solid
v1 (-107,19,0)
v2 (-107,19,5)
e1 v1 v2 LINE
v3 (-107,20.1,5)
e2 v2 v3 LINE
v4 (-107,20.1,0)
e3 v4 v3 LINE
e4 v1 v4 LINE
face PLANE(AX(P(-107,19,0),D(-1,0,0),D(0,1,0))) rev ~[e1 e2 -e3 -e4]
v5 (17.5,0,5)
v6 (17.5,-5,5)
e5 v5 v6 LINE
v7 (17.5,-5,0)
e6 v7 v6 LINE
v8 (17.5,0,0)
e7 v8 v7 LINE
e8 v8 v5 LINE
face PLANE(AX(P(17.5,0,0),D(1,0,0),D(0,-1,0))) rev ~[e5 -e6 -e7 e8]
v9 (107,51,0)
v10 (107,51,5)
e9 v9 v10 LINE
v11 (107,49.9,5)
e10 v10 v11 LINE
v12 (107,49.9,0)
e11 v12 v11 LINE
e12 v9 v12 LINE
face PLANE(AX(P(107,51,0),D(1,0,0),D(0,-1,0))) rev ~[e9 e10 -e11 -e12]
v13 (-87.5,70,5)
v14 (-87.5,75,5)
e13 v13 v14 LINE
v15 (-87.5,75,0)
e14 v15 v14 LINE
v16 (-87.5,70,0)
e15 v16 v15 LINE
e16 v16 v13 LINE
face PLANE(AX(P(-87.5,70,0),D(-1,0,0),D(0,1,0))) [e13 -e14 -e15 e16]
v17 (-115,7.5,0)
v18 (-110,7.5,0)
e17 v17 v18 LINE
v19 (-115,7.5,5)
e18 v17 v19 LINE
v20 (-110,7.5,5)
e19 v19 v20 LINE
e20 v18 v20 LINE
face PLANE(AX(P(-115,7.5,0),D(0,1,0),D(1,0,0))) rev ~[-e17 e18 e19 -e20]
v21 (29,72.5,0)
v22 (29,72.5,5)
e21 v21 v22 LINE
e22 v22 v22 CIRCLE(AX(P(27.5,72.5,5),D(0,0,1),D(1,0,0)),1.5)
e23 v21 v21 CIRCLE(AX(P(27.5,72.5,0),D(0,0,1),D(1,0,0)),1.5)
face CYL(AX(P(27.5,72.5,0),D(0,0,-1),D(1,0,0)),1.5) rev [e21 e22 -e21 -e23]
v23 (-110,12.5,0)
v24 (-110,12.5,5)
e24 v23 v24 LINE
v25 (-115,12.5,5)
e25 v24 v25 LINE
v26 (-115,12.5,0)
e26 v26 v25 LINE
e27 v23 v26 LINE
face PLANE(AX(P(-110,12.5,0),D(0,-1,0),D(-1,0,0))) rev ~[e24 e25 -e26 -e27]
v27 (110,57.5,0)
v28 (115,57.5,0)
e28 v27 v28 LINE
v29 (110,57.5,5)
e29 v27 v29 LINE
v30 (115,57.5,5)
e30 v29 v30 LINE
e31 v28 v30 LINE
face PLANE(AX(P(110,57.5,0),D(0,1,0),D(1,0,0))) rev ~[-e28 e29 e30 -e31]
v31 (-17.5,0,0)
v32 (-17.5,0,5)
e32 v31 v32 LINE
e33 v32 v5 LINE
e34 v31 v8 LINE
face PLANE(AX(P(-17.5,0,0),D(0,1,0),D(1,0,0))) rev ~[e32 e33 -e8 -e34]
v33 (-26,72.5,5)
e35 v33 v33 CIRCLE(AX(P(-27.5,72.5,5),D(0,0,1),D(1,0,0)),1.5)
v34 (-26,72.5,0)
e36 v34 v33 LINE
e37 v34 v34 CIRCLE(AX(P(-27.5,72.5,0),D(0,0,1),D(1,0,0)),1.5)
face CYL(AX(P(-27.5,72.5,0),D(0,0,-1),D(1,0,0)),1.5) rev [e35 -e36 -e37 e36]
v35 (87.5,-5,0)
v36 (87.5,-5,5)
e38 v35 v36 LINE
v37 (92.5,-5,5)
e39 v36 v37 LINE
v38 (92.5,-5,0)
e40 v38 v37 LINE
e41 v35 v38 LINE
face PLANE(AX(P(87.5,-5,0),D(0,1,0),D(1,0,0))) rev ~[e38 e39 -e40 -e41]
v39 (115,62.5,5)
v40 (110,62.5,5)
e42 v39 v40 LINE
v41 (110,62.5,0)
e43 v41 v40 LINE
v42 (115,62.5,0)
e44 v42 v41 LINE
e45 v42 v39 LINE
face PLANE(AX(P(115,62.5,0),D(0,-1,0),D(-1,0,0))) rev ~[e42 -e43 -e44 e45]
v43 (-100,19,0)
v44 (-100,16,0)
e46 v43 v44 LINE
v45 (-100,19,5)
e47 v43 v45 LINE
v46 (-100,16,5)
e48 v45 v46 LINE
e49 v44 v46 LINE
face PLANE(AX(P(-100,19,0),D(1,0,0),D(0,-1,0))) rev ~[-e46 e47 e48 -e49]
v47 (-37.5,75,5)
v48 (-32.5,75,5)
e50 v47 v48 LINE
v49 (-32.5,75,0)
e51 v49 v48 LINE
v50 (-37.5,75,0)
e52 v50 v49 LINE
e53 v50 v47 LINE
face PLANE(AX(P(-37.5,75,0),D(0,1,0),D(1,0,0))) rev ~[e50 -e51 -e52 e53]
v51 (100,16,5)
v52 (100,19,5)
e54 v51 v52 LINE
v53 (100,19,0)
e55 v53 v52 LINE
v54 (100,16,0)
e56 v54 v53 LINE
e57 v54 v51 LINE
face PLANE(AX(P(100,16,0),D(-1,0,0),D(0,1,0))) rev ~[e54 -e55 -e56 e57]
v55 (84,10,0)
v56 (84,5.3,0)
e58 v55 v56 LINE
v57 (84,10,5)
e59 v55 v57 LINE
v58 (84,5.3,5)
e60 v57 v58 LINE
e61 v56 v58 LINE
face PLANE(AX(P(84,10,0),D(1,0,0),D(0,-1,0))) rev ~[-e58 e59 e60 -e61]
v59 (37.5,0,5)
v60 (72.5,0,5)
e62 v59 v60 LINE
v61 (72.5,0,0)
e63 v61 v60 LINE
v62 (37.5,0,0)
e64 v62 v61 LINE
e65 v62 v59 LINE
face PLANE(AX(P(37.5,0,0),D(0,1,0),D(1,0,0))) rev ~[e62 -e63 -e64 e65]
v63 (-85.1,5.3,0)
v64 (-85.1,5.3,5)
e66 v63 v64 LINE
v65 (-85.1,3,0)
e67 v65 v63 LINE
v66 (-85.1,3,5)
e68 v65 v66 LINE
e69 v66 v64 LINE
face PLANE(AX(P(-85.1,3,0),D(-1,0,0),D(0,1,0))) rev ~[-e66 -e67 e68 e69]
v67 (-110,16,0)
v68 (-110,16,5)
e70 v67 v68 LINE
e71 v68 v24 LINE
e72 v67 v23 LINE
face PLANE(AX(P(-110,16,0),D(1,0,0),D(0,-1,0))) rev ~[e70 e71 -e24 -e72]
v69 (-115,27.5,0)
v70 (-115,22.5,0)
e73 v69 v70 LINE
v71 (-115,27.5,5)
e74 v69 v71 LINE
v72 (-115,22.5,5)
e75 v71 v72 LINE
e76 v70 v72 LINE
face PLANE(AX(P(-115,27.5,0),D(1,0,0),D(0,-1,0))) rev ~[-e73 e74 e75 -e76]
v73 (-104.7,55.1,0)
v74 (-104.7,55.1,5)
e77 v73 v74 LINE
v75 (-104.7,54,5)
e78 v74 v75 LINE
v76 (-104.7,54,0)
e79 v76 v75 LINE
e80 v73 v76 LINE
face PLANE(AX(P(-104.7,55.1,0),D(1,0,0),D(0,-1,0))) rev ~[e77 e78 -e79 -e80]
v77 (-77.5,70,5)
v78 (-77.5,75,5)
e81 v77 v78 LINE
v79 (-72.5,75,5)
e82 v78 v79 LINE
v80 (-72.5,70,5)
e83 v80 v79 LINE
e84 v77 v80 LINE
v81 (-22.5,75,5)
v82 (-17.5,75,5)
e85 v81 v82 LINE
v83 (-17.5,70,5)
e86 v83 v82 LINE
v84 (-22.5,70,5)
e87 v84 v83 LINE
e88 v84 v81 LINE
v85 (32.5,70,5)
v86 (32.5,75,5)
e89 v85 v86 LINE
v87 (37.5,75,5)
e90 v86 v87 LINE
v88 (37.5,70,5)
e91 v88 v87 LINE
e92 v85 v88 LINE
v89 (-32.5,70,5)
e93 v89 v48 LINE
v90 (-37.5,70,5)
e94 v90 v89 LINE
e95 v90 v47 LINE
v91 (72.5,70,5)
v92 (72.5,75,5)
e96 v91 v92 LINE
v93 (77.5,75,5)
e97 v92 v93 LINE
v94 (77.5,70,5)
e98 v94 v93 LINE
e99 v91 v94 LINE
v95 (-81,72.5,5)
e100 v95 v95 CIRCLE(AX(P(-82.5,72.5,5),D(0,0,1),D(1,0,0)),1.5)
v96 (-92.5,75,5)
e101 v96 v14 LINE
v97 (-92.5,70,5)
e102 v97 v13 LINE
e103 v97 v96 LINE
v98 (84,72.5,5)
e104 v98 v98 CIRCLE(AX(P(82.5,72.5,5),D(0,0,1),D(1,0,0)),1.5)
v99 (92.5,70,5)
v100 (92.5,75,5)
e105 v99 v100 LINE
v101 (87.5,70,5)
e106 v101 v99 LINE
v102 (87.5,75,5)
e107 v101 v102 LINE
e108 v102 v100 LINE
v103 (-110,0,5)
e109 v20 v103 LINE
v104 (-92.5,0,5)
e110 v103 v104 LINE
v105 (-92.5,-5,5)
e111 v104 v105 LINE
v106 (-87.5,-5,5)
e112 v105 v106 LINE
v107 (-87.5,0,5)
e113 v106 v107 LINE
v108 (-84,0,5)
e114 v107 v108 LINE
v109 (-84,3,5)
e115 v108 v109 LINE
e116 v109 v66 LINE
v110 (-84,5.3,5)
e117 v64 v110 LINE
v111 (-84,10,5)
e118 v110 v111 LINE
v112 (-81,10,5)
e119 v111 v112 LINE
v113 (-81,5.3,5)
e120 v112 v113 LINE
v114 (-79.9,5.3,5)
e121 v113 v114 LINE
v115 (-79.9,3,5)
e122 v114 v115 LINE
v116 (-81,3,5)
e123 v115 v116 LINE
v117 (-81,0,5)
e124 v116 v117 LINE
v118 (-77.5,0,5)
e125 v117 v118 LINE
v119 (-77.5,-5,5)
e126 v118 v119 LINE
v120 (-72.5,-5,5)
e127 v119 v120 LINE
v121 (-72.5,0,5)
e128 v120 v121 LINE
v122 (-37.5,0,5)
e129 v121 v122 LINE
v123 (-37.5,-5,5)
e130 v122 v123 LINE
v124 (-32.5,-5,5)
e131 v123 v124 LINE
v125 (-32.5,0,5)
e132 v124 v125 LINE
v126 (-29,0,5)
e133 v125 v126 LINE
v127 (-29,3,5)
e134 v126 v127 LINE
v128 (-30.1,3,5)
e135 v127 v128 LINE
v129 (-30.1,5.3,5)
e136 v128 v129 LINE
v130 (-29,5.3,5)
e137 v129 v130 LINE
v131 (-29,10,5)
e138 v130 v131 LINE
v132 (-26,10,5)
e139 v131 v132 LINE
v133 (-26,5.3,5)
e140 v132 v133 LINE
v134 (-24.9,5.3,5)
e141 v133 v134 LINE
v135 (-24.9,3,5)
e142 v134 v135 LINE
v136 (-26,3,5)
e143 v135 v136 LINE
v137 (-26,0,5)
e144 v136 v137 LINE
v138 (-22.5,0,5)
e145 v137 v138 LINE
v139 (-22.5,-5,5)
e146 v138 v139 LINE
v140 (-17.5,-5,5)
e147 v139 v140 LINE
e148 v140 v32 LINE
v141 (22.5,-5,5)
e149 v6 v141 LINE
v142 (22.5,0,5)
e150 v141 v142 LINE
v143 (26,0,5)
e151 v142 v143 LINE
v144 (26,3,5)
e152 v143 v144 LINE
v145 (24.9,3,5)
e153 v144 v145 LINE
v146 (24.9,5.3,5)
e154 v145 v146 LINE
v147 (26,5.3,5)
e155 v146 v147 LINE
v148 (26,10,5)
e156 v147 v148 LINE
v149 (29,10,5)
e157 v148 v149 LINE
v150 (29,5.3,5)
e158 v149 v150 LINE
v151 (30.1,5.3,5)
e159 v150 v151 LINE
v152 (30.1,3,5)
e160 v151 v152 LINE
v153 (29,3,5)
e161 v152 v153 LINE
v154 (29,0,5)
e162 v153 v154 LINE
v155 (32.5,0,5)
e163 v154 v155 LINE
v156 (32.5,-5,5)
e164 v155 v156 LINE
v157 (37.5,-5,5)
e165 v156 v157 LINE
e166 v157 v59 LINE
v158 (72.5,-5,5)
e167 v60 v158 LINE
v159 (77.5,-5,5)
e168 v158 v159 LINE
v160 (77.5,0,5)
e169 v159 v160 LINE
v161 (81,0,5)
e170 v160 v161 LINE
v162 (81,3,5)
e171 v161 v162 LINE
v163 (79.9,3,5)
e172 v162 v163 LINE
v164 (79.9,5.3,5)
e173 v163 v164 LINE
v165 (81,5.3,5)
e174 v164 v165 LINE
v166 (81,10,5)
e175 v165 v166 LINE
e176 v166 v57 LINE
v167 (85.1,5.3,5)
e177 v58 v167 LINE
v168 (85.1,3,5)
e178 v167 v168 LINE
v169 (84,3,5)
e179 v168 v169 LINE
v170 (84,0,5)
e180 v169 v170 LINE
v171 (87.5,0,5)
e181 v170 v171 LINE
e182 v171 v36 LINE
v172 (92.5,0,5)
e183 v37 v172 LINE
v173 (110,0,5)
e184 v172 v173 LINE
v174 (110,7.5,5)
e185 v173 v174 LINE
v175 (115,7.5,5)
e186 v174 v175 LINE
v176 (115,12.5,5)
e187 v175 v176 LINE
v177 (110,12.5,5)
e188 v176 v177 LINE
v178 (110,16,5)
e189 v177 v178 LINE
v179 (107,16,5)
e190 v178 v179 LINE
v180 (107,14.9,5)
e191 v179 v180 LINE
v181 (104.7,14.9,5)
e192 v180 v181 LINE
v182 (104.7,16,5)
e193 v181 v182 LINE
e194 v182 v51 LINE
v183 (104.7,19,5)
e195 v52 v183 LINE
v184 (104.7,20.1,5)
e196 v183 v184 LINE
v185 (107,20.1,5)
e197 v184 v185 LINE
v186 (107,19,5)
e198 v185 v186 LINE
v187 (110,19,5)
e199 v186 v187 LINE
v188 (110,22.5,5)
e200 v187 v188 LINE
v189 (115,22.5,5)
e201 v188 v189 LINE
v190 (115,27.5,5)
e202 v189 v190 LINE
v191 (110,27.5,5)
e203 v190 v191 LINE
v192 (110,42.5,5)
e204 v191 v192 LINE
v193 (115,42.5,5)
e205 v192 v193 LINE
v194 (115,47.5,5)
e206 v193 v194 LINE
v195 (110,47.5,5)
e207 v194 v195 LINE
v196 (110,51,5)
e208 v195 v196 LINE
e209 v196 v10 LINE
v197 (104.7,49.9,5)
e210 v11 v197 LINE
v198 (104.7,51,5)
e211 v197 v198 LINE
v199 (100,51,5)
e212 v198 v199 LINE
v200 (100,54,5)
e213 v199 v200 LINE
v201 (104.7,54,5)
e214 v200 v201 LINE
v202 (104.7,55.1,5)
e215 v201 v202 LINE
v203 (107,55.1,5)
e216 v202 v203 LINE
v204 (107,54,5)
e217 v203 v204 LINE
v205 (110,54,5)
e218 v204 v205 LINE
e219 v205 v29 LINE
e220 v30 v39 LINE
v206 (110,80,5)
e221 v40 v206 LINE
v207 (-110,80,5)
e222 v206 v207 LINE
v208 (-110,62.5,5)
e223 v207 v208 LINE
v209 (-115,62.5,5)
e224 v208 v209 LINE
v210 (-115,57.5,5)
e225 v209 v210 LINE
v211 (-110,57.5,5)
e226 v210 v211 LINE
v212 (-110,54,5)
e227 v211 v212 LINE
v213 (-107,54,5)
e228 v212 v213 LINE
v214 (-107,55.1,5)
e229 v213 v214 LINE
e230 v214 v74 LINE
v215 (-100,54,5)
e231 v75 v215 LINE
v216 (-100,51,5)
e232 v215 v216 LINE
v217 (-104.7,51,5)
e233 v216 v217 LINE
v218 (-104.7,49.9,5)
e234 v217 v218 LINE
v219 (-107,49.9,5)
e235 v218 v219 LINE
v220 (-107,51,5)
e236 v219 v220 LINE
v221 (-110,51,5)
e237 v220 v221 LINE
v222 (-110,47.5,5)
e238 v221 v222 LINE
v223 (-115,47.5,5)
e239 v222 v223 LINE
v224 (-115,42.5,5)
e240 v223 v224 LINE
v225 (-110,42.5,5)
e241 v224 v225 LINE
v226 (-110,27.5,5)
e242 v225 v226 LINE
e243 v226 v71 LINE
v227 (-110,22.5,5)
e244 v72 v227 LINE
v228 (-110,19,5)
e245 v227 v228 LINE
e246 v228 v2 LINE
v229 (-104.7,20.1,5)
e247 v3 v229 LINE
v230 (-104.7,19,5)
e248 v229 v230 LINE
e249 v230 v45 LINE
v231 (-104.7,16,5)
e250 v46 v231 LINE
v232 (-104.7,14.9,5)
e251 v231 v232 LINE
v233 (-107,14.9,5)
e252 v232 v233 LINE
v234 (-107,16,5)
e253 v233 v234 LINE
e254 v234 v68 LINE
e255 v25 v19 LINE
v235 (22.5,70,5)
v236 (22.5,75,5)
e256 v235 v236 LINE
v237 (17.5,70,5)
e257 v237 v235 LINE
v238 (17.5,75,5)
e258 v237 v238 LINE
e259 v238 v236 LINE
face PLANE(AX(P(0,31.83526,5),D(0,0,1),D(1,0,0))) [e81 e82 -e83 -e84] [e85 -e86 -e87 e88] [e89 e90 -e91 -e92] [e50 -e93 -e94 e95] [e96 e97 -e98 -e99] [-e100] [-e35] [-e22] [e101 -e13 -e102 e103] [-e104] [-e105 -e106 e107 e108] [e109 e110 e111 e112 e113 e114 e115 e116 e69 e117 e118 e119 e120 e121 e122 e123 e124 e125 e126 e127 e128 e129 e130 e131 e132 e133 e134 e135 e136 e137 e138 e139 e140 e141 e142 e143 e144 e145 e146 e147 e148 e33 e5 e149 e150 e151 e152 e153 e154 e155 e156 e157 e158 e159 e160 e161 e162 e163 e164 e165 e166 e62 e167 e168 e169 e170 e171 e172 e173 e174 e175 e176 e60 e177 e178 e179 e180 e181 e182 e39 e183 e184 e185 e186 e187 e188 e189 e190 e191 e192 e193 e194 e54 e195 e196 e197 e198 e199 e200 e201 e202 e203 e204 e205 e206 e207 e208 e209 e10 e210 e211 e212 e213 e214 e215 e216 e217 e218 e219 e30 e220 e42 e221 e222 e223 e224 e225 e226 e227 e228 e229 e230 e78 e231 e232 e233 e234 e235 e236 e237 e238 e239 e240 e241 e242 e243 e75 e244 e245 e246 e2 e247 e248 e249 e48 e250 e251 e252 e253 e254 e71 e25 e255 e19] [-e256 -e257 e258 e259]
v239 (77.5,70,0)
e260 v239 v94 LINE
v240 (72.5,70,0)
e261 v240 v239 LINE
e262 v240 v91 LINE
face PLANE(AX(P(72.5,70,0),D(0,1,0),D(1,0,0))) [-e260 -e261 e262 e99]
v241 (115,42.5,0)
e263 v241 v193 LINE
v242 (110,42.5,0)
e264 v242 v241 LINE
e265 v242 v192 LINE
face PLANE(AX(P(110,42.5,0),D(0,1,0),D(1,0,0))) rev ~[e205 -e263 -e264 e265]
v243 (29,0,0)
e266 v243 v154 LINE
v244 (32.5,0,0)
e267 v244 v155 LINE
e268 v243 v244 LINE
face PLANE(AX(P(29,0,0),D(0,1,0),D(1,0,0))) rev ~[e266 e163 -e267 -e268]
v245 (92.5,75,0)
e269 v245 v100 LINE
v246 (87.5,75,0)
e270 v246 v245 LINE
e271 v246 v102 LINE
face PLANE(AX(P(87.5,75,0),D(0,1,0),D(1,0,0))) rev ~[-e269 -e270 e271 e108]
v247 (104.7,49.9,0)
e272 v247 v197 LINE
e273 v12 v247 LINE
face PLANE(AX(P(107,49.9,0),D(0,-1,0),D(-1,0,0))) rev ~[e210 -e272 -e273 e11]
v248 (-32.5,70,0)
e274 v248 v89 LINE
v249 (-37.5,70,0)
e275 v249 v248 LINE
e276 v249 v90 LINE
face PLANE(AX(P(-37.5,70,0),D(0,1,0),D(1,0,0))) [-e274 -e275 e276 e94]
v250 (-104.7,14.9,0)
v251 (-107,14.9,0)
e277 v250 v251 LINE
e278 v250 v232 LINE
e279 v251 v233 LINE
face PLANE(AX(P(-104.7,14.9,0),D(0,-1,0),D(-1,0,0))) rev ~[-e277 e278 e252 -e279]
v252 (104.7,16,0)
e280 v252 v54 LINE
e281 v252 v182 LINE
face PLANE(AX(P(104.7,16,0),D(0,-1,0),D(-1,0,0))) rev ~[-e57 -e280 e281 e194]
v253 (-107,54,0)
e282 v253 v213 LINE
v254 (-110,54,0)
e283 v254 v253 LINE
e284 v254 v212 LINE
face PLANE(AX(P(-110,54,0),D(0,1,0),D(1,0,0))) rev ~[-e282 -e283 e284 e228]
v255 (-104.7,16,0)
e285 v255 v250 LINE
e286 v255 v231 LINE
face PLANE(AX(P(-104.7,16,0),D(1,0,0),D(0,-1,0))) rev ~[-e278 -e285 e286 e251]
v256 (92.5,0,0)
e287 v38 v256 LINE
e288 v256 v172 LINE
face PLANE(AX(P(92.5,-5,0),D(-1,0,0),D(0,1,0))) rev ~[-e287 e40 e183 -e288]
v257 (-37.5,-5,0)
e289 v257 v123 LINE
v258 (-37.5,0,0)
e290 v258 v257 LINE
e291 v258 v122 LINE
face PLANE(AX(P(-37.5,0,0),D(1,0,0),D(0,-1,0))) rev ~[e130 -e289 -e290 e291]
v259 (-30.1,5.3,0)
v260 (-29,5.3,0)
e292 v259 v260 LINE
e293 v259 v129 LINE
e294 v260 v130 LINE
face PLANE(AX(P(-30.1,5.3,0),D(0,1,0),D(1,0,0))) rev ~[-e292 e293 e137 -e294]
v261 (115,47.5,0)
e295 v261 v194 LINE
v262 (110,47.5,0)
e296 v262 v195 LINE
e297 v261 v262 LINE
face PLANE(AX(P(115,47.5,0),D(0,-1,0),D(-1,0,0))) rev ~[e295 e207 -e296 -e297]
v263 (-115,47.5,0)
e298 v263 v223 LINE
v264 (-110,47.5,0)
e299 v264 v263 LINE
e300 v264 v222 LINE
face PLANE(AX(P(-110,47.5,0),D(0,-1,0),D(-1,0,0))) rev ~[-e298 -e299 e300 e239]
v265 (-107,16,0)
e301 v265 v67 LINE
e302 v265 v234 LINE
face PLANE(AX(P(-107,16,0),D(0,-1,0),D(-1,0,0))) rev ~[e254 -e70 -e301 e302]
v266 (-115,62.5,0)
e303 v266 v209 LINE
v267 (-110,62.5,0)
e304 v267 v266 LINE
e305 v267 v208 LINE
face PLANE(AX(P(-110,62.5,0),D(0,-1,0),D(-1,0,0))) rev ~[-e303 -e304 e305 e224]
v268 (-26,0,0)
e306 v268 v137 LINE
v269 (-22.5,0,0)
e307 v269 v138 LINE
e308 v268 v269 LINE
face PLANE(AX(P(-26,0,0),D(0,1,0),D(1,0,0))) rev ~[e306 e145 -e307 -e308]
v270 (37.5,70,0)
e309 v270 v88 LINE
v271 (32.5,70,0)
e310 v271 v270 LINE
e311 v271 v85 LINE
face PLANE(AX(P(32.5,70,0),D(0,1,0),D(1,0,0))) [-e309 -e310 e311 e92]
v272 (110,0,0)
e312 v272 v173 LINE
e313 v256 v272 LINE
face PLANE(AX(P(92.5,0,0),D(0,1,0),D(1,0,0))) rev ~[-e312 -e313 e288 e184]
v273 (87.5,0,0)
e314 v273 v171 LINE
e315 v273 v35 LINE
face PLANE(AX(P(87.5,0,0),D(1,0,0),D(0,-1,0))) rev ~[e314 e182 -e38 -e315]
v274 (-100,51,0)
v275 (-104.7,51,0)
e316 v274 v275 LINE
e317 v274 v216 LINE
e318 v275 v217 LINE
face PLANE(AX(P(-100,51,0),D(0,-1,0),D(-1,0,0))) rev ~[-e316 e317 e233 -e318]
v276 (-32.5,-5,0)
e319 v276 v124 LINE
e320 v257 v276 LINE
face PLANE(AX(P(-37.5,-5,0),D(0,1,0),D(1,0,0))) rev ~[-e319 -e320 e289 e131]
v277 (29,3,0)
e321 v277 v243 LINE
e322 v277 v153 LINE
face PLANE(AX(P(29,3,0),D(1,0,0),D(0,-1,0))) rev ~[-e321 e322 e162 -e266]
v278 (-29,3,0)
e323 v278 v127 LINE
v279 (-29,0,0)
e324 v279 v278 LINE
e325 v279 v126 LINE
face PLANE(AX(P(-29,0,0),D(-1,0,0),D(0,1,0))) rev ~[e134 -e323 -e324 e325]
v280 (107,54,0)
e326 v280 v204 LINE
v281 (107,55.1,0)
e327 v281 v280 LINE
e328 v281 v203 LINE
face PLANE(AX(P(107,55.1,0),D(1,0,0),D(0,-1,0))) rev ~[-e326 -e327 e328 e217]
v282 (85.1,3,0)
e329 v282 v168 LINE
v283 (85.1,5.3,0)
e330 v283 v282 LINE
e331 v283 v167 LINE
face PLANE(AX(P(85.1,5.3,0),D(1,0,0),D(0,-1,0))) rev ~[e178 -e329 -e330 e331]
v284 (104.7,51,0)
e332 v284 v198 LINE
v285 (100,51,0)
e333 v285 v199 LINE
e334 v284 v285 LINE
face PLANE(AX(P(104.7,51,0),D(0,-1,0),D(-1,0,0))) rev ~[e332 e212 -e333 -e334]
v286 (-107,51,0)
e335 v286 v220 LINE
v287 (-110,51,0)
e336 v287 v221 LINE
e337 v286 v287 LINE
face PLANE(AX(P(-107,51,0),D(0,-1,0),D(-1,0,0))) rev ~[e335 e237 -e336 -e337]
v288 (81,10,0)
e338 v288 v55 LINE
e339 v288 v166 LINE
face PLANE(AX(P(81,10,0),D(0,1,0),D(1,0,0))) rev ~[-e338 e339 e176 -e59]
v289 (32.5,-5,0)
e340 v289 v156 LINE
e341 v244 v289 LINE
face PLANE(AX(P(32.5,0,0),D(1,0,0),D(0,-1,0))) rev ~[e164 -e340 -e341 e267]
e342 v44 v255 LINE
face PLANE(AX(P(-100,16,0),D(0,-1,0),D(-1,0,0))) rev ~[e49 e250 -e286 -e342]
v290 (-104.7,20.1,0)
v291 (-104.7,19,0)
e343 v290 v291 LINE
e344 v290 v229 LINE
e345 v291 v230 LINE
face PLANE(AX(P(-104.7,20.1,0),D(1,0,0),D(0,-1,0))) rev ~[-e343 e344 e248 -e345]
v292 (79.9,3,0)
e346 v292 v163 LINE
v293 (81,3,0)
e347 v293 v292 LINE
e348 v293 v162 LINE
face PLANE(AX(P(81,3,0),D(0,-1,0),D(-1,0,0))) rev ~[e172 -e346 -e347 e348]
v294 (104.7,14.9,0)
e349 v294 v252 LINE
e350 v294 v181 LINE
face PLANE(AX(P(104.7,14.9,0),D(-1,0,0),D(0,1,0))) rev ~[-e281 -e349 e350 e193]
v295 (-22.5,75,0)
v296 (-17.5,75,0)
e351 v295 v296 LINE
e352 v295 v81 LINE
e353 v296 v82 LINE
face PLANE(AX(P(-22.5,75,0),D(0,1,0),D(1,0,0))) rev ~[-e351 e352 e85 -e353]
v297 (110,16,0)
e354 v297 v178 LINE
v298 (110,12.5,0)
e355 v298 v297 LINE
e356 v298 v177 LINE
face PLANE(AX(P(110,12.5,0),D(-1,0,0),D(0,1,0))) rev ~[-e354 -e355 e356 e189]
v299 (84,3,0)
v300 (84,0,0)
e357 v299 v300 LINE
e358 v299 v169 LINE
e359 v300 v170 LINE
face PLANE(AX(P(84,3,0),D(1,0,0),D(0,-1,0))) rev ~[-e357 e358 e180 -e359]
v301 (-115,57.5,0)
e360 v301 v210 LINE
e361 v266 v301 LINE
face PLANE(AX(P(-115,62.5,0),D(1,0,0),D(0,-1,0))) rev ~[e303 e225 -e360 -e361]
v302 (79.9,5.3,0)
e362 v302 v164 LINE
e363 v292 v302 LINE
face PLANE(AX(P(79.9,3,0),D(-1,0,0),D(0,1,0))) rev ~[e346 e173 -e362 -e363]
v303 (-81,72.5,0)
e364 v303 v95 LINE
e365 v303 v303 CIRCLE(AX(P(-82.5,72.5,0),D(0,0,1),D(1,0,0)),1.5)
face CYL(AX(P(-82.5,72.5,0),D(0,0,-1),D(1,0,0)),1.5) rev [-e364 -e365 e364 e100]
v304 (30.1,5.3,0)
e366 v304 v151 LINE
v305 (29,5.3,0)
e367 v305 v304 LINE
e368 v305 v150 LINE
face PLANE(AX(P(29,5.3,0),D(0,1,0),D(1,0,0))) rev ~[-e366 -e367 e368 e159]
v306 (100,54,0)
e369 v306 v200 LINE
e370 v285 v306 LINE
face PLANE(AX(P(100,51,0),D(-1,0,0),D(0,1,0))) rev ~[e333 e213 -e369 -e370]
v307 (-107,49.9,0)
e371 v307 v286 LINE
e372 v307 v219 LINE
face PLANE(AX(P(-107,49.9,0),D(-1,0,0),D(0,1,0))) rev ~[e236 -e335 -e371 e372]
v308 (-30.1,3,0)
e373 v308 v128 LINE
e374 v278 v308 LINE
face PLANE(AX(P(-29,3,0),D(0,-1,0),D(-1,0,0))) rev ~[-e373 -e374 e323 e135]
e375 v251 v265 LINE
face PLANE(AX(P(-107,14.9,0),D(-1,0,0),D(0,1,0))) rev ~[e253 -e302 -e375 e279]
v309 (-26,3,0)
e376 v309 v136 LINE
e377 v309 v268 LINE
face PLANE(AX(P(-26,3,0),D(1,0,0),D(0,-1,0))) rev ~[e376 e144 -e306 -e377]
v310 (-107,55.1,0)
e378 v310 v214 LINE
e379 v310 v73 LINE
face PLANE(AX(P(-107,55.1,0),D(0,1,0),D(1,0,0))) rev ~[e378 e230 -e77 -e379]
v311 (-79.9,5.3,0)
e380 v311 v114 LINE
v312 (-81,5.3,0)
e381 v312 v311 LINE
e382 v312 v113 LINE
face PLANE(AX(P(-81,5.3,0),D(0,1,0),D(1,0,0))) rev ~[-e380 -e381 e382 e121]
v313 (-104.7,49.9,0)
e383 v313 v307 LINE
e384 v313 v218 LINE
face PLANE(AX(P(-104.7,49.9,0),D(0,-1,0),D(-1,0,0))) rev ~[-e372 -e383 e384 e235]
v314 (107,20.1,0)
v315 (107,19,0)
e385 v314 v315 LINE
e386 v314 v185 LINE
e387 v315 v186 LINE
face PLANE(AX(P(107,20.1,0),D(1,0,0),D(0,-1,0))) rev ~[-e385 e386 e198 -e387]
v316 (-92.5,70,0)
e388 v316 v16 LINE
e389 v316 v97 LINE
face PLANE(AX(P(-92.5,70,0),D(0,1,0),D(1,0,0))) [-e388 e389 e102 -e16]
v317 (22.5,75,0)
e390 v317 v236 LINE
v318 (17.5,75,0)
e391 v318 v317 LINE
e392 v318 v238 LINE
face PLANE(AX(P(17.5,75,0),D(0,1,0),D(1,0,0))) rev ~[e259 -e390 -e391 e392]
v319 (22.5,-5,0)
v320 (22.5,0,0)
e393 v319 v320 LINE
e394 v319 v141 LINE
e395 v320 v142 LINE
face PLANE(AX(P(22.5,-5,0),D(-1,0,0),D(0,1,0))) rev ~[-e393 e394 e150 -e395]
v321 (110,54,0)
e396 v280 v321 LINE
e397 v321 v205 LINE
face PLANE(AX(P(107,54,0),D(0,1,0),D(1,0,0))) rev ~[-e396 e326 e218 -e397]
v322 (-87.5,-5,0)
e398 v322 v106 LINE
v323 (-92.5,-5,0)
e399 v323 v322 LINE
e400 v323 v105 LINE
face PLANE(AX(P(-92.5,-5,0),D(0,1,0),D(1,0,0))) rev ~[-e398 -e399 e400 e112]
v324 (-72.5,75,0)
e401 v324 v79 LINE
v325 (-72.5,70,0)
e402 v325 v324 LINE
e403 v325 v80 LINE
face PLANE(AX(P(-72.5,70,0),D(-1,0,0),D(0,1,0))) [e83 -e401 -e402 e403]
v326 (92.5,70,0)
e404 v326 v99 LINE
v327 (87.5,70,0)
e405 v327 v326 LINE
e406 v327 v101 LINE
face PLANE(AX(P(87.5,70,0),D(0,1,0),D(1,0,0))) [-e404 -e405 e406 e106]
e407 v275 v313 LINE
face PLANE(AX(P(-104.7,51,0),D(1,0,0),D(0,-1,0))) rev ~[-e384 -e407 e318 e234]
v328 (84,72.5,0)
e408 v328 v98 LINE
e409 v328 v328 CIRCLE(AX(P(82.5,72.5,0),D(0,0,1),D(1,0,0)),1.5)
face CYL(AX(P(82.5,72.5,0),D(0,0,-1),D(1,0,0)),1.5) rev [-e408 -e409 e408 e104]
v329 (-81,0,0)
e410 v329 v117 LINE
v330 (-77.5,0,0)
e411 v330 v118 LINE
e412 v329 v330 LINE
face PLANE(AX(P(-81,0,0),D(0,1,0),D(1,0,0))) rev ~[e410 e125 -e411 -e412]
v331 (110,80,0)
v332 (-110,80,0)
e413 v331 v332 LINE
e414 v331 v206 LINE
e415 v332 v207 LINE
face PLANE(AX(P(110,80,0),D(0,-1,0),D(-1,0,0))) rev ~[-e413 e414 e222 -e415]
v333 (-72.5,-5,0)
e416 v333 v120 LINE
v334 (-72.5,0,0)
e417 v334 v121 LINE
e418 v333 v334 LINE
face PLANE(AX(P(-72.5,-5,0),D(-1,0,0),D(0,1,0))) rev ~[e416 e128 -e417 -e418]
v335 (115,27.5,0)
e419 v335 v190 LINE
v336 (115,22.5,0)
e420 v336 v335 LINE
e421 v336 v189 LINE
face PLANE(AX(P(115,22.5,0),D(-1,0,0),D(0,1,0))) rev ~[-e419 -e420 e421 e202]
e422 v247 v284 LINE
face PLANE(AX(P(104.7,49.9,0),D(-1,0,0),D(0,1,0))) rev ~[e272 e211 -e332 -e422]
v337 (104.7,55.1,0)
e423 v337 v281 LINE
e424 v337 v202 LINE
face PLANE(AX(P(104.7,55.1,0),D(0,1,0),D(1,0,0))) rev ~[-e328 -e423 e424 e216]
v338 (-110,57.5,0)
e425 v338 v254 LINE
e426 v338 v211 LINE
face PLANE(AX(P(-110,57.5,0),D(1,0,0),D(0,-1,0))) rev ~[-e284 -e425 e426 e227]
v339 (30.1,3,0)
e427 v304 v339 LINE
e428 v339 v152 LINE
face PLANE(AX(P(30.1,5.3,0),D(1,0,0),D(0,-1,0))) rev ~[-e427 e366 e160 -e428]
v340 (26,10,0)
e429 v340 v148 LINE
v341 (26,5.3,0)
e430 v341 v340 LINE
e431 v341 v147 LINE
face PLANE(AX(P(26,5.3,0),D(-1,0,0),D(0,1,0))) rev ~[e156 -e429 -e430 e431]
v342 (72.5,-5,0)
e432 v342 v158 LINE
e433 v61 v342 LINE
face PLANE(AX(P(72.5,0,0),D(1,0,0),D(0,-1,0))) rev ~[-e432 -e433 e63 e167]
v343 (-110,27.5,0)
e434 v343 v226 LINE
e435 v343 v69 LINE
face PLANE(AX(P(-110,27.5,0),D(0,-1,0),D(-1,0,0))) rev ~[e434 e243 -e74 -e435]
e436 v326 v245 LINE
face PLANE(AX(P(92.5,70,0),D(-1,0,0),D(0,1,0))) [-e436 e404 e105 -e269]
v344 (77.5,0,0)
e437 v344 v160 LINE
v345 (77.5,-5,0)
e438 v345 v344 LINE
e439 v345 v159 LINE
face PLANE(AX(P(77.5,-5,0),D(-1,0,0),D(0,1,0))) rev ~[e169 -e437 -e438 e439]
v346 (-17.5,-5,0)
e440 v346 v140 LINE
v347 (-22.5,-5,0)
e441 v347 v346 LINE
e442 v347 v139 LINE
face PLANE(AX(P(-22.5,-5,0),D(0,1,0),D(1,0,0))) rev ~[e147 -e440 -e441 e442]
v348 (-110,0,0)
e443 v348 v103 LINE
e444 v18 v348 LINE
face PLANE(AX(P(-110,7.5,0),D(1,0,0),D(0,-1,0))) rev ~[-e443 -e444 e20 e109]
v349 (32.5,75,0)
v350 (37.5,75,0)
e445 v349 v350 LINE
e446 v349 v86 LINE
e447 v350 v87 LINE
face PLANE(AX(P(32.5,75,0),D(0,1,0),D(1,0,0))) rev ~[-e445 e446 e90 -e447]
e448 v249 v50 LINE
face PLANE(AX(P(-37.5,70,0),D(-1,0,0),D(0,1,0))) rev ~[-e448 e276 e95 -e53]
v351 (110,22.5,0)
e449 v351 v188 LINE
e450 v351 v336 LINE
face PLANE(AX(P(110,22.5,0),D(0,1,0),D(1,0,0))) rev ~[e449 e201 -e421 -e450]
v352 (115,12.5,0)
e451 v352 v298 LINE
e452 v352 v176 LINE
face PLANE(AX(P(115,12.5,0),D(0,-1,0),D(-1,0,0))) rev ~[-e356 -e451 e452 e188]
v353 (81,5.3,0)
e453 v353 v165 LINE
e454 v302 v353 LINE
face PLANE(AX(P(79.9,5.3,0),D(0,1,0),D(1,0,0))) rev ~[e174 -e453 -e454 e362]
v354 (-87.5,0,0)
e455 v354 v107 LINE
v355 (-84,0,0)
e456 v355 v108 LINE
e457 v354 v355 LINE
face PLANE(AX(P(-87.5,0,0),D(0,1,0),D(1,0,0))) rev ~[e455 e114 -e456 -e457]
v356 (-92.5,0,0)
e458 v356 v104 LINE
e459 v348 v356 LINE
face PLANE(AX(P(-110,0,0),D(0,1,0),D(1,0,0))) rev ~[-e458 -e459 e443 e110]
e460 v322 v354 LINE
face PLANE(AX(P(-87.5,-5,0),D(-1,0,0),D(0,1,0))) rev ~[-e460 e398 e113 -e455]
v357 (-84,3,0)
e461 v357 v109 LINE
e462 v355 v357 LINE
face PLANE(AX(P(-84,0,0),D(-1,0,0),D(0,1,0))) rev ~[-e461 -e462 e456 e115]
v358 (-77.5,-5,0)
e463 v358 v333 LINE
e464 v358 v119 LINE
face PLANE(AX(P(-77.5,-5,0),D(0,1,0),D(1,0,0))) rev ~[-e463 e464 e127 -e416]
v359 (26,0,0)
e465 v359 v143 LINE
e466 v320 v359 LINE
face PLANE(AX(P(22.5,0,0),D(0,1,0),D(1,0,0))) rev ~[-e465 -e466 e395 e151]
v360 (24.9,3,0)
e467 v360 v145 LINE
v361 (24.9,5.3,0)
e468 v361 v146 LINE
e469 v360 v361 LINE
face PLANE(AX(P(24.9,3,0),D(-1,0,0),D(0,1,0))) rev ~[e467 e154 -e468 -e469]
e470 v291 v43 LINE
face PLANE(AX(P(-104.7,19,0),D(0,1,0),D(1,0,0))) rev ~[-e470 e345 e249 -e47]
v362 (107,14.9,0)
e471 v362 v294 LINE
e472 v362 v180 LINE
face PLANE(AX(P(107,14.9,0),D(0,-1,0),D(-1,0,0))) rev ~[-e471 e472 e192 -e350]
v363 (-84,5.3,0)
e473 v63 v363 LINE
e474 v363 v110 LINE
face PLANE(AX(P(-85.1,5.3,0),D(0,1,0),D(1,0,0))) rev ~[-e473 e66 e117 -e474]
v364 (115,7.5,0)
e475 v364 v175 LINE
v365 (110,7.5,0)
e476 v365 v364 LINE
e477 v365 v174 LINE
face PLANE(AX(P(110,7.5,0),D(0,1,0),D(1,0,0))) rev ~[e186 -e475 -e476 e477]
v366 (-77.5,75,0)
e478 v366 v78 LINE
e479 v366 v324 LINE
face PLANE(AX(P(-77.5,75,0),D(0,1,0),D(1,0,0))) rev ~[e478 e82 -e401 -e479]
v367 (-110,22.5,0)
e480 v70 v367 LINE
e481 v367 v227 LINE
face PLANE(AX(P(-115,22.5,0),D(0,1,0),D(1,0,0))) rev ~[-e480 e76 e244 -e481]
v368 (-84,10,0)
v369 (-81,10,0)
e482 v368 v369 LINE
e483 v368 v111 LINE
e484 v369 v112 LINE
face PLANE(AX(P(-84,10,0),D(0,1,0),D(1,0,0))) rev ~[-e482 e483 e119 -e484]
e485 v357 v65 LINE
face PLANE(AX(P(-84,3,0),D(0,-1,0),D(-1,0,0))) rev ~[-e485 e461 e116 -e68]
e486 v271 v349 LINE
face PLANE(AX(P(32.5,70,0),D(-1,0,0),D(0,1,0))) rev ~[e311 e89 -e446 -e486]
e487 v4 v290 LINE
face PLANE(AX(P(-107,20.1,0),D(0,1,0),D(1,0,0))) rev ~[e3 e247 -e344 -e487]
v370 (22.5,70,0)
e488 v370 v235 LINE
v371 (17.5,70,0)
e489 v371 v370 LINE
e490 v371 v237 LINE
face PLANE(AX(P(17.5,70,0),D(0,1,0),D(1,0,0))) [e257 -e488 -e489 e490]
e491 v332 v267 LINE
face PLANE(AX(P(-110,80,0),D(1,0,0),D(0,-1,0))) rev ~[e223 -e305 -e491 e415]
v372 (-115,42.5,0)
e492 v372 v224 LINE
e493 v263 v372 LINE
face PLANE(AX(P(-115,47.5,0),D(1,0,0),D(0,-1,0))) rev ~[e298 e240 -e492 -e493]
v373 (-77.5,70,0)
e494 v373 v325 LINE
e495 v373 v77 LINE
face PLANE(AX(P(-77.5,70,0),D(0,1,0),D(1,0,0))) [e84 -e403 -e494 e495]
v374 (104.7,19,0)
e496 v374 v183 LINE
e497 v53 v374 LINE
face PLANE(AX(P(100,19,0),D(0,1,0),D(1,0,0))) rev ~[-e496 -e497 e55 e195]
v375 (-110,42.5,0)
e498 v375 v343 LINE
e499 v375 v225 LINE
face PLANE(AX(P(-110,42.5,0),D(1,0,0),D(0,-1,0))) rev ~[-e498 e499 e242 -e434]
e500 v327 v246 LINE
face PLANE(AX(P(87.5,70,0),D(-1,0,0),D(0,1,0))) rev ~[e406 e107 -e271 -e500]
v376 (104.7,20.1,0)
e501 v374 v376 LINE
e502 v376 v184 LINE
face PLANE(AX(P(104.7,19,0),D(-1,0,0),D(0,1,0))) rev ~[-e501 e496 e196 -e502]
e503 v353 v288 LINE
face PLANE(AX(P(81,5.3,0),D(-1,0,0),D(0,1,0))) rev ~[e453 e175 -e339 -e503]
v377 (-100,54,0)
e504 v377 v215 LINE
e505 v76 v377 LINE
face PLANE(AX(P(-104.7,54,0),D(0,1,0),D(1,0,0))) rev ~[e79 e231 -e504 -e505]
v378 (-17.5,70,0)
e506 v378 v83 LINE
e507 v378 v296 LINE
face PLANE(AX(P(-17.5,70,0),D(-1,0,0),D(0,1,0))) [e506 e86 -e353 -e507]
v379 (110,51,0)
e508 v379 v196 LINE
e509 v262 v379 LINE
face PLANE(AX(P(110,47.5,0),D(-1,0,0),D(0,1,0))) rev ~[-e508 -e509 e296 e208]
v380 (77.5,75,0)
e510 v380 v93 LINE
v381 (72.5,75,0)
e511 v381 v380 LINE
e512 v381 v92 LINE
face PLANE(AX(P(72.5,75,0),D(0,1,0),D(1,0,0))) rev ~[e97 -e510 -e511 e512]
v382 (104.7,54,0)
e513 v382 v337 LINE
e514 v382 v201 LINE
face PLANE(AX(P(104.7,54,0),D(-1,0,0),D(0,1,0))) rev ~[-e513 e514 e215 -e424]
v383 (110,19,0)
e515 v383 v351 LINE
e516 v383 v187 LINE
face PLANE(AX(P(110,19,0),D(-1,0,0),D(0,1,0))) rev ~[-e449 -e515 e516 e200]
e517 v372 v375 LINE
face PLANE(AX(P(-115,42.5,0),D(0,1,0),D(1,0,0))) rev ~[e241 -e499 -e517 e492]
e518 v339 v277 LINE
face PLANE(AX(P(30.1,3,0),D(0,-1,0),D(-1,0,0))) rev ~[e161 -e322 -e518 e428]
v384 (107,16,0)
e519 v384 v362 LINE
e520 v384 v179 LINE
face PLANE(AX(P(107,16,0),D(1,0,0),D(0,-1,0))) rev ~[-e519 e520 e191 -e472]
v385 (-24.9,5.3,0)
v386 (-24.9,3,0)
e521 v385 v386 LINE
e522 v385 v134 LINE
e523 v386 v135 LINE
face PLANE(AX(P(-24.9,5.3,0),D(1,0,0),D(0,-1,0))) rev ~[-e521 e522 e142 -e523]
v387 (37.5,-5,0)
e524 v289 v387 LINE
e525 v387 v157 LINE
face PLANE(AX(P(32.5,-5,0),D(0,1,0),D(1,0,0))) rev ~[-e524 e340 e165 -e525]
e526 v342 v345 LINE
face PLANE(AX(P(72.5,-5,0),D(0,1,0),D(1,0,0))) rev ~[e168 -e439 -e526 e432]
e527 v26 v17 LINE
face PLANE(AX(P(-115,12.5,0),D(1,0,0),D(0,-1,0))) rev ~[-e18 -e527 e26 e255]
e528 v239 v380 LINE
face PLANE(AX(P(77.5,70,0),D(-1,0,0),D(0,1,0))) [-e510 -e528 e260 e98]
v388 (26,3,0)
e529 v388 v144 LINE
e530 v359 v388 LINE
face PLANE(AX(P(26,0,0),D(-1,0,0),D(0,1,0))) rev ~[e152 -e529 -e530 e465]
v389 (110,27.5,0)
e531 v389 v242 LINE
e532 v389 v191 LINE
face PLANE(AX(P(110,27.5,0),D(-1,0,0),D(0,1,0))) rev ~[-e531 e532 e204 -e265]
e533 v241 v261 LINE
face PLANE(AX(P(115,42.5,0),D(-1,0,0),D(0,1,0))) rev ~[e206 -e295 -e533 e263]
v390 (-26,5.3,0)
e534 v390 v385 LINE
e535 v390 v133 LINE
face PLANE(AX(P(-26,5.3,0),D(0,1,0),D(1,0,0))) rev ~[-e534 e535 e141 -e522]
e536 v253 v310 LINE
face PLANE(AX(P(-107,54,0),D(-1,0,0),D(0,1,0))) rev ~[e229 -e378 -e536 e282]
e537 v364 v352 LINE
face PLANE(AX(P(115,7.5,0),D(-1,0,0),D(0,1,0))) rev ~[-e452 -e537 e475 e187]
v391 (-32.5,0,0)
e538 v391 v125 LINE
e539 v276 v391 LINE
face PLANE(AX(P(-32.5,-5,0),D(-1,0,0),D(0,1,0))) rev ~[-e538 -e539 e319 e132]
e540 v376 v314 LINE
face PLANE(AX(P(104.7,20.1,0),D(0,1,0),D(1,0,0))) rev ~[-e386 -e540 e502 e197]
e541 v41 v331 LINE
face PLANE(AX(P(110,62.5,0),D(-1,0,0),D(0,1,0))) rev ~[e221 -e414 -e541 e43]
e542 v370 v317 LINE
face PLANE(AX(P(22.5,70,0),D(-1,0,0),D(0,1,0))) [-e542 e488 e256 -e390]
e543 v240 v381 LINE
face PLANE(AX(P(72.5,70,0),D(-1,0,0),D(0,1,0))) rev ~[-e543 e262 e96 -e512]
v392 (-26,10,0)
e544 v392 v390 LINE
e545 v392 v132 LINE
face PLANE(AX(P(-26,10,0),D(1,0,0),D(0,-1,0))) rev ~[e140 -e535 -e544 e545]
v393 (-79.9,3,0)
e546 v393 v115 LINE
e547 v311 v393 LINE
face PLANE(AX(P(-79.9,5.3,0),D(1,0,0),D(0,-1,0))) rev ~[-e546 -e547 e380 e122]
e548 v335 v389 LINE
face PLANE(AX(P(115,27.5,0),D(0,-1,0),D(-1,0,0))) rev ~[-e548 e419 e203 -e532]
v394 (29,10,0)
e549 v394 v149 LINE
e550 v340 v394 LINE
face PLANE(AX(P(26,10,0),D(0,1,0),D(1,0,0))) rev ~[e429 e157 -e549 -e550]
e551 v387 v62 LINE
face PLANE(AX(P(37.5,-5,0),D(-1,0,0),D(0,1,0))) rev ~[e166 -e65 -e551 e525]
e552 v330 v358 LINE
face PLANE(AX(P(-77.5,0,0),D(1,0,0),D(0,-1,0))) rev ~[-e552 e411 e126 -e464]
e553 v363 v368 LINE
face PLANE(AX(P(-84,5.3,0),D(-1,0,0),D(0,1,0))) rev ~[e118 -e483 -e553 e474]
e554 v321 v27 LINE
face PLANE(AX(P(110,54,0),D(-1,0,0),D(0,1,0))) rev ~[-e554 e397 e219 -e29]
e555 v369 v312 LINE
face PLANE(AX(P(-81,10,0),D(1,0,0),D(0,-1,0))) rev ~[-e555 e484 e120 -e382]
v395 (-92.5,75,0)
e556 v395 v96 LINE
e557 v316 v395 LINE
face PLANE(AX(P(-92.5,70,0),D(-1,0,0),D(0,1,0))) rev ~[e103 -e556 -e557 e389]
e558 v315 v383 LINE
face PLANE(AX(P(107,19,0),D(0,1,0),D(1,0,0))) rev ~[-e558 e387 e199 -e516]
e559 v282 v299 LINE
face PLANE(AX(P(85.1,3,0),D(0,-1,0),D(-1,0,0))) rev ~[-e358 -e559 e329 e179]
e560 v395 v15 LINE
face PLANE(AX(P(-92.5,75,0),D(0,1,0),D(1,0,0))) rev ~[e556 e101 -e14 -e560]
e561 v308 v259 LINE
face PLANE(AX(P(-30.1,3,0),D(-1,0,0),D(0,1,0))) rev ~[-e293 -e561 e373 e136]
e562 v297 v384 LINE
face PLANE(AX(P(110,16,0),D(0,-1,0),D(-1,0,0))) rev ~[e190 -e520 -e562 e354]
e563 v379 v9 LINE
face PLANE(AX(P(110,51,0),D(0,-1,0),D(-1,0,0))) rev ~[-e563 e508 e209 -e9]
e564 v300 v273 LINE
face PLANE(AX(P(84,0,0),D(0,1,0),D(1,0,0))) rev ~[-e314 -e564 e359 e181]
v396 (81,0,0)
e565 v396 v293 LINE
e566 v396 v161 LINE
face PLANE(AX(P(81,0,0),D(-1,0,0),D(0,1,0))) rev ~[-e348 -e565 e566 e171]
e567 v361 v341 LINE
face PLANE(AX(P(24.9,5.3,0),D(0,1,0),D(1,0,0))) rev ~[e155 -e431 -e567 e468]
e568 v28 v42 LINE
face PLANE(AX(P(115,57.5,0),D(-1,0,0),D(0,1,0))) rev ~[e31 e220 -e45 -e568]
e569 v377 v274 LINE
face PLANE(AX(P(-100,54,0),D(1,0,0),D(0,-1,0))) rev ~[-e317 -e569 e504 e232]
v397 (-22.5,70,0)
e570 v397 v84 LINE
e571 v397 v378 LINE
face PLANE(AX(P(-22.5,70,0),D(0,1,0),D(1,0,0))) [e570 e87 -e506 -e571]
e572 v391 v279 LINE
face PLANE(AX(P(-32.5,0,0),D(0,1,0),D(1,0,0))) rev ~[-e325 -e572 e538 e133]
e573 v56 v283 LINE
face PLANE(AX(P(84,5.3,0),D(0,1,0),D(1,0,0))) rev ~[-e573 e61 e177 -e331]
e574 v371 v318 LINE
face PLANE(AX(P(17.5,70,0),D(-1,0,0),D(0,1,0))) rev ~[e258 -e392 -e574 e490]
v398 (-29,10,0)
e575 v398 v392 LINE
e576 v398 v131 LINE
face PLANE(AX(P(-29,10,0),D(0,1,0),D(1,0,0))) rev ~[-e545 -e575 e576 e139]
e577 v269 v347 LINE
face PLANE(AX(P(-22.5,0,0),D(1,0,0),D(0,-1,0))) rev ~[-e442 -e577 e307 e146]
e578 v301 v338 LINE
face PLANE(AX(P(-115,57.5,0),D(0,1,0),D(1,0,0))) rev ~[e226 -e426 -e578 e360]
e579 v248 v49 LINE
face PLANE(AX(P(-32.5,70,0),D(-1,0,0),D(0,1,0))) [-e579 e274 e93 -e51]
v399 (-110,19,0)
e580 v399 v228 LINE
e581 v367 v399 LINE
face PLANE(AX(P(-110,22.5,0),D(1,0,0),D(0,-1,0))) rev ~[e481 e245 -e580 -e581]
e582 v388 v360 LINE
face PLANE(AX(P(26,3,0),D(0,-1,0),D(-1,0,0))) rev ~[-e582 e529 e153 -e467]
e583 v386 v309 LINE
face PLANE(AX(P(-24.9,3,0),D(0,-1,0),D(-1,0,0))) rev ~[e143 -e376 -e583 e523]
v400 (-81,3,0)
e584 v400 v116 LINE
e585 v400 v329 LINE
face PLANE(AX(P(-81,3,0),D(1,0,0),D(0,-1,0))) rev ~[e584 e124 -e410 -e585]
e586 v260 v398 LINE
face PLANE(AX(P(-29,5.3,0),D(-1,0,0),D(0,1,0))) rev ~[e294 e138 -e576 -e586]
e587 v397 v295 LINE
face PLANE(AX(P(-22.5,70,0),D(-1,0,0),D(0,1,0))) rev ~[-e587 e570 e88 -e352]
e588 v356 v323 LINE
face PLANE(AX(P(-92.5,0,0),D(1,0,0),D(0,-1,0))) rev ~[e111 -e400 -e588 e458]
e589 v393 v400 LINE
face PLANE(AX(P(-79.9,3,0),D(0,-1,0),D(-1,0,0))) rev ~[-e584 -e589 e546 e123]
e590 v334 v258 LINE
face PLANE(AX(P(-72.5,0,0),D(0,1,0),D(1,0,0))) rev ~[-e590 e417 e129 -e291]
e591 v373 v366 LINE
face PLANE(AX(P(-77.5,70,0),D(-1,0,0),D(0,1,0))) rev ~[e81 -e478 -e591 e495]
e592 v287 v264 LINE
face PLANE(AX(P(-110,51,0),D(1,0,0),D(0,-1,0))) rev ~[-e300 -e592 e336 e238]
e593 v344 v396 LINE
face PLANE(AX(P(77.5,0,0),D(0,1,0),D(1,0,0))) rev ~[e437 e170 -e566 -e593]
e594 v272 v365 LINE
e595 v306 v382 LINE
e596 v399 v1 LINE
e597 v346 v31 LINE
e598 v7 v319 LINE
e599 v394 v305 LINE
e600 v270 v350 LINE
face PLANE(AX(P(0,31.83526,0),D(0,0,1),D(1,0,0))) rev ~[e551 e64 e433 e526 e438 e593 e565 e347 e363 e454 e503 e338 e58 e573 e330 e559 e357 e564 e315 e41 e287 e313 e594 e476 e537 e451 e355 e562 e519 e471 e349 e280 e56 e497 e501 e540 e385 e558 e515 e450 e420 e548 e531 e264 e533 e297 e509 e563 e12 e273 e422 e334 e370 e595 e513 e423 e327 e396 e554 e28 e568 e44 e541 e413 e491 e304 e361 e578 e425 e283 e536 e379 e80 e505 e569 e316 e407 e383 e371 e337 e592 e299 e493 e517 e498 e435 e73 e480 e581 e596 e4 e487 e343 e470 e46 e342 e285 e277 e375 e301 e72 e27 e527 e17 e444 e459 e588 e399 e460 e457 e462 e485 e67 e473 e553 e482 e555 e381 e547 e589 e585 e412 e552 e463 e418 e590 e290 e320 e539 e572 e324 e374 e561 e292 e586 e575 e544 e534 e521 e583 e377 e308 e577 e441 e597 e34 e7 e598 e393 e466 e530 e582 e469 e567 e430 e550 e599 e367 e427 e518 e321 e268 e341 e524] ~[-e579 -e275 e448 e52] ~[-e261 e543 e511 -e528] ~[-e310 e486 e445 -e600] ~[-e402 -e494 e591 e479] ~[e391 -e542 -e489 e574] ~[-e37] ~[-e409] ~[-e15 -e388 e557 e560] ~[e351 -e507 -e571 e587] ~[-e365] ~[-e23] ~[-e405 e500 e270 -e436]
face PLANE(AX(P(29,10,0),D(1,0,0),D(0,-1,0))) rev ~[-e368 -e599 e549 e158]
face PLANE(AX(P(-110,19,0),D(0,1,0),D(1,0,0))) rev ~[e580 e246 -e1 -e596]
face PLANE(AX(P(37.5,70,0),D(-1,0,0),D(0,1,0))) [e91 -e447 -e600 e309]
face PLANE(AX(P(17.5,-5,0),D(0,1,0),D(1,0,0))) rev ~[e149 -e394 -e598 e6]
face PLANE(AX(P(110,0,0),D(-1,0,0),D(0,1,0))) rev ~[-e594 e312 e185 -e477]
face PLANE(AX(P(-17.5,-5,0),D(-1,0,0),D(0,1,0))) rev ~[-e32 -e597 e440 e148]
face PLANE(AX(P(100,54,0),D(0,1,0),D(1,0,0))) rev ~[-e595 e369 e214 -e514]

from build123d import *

# Parameters (mm, degrees)
SKETCH1_W           = 5
SKETCH1_H           = 5
SKETCH1_R           = 1.5
BOSS_EXTRUDE2_DEPTH = 5


with BuildPart() as part:
    # Sketch1 → Boss-Extrude2 (new body)
    with BuildSketch(Plane.XY):
        Polygon((-110, 80), (-110, 62.5), (-115, 62.5), (-115, 57.5), (-110, 57.5), (-110, 54), (-107, 54), (-107, 55.1), (-104.7, 55.1), (-104.7, 54), (-100, 54), (-100, 51), (-104.7, 51), (-104.7, 49.9), (-107, 49.9), (-107, 51), (-110, 51), (-110, 47.5), (-115, 47.5), (-115, 42.5), (-110, 42.5), (-110, 27.5), (-115, 27.5), (-115, 22.5), (-110, 22.5), (-110, 19), (-107, 19), (-107, 20.1), (-104.7, 20.1), (-104.7, 19), (-100, 19), (-100, 16), (-104.7, 16), (-104.7, 14.9), (-107, 14.9), (-107, 16), (-110, 16), (-110, 12.5), (-115, 12.5), (-115, 7.5), (-110, 7.5), (-110, 0), (-92.5, 0), (-92.5, -5), (-87.5, -5), (-87.5, 0), (-84, 0), (-84, 3), (-85.1, 3), (-85.1, 5.3), (-84, 5.3), (-84, 10), (-81, 10), (-81, 5.3), (-79.9, 5.3), (-79.9, 3), (-81, 3), (-81, 0), (-77.5, 0), (-77.5, -5), (-72.5, -5), (-72.5, 0), (-37.5, 0), (-37.5, -5), (-32.5, -5), (-32.5, 0), (-29, 0), (-29, 3), (-30.1, 3), (-30.1, 5.3), (-29, 5.3), (-29, 10), (-26, 10), (-26, 5.3), (-24.9, 5.3), (-24.9, 3), (-26, 3), (-26, 0), (-22.5, 0), (-22.5, -5), (-17.5, -5), (-17.5, 0), (17.5, 0), (17.5, -5), (22.5, -5), (22.5, 0), (26, 0), (26, 3), (24.9, 3), (24.9, 5.3), (26, 5.3), (26, 10), (29, 10), (29, 5.3), (30.1, 5.3), (30.1, 3), (29, 3), (29, 0), (32.5, 0), (32.5, -5), (37.5, -5), (37.5, 0), (72.5, 0), (72.5, -5), (77.5, -5), (77.5, 0), (81, 0), (81, 3), (79.9, 3), (79.9, 5.3), (81, 5.3), (81, 10), (84, 10), (84, 5.3), (85.1, 5.3), (85.1, 3), (84, 3), (84, 0), (87.5, 0), (87.5, -5), (92.5, -5), (92.5, 0), (110, 0), (110, 7.5), (115, 7.5), (115, 12.5), (110, 12.5), (110, 16), (107, 16), (107, 14.9), (104.7, 14.9), (104.7, 16), (100, 16), (100, 19), (104.7, 19), (104.7, 20.1), (107, 20.1), (107, 19), (110, 19), (110, 22.5), (115, 22.5), (115, 27.5), (110, 27.5), (110, 42.5), (115, 42.5), (115, 47.5), (110, 47.5), (110, 51), (107, 51), (107, 49.9), (104.7, 49.9), (104.7, 51), (100, 51), (100, 54), (104.7, 54), (104.7, 55.1), (107, 55.1), (107, 54), (110, 54), (110, 57.5), (115, 57.5), (115, 62.5), (110, 62.5), (110, 80), align=None)
        with Locations((-90, 72.5)):
            Rectangle(SKETCH1_W, SKETCH1_H, mode=Mode.SUBTRACT)
        with Locations((-82.5, 72.5)):
            Circle(SKETCH1_R, mode=Mode.SUBTRACT)
        with Locations((-75, 72.5)):
            Rectangle(SKETCH1_W, SKETCH1_H, mode=Mode.SUBTRACT)
        with Locations((-35, 72.5)):
            Rectangle(SKETCH1_W, SKETCH1_H, mode=Mode.SUBTRACT)
        with Locations((-27.5, 72.5)):
            Circle(SKETCH1_R, mode=Mode.SUBTRACT)
        with Locations((-20, 72.5)):
            Rectangle(SKETCH1_W, SKETCH1_H, mode=Mode.SUBTRACT)
        with Locations((20, 72.5)):
            Rectangle(SKETCH1_W, SKETCH1_H, mode=Mode.SUBTRACT)
        with Locations((27.5, 72.5)):
            Circle(SKETCH1_R, mode=Mode.SUBTRACT)
        with Locations((35, 72.5)):
            Rectangle(SKETCH1_W, SKETCH1_H, mode=Mode.SUBTRACT)
        with Locations((75, 72.5)):
            Rectangle(SKETCH1_W, SKETCH1_H, mode=Mode.SUBTRACT)
        with Locations((82.5, 72.5)):
            Circle(SKETCH1_R, mode=Mode.SUBTRACT)
        with Locations((90, 72.5)):
            Rectangle(SKETCH1_W, SKETCH1_H, mode=Mode.SUBTRACT)
    extrude(amount=BOSS_EXTRUDE2_DEPTH)


solid = part.part
